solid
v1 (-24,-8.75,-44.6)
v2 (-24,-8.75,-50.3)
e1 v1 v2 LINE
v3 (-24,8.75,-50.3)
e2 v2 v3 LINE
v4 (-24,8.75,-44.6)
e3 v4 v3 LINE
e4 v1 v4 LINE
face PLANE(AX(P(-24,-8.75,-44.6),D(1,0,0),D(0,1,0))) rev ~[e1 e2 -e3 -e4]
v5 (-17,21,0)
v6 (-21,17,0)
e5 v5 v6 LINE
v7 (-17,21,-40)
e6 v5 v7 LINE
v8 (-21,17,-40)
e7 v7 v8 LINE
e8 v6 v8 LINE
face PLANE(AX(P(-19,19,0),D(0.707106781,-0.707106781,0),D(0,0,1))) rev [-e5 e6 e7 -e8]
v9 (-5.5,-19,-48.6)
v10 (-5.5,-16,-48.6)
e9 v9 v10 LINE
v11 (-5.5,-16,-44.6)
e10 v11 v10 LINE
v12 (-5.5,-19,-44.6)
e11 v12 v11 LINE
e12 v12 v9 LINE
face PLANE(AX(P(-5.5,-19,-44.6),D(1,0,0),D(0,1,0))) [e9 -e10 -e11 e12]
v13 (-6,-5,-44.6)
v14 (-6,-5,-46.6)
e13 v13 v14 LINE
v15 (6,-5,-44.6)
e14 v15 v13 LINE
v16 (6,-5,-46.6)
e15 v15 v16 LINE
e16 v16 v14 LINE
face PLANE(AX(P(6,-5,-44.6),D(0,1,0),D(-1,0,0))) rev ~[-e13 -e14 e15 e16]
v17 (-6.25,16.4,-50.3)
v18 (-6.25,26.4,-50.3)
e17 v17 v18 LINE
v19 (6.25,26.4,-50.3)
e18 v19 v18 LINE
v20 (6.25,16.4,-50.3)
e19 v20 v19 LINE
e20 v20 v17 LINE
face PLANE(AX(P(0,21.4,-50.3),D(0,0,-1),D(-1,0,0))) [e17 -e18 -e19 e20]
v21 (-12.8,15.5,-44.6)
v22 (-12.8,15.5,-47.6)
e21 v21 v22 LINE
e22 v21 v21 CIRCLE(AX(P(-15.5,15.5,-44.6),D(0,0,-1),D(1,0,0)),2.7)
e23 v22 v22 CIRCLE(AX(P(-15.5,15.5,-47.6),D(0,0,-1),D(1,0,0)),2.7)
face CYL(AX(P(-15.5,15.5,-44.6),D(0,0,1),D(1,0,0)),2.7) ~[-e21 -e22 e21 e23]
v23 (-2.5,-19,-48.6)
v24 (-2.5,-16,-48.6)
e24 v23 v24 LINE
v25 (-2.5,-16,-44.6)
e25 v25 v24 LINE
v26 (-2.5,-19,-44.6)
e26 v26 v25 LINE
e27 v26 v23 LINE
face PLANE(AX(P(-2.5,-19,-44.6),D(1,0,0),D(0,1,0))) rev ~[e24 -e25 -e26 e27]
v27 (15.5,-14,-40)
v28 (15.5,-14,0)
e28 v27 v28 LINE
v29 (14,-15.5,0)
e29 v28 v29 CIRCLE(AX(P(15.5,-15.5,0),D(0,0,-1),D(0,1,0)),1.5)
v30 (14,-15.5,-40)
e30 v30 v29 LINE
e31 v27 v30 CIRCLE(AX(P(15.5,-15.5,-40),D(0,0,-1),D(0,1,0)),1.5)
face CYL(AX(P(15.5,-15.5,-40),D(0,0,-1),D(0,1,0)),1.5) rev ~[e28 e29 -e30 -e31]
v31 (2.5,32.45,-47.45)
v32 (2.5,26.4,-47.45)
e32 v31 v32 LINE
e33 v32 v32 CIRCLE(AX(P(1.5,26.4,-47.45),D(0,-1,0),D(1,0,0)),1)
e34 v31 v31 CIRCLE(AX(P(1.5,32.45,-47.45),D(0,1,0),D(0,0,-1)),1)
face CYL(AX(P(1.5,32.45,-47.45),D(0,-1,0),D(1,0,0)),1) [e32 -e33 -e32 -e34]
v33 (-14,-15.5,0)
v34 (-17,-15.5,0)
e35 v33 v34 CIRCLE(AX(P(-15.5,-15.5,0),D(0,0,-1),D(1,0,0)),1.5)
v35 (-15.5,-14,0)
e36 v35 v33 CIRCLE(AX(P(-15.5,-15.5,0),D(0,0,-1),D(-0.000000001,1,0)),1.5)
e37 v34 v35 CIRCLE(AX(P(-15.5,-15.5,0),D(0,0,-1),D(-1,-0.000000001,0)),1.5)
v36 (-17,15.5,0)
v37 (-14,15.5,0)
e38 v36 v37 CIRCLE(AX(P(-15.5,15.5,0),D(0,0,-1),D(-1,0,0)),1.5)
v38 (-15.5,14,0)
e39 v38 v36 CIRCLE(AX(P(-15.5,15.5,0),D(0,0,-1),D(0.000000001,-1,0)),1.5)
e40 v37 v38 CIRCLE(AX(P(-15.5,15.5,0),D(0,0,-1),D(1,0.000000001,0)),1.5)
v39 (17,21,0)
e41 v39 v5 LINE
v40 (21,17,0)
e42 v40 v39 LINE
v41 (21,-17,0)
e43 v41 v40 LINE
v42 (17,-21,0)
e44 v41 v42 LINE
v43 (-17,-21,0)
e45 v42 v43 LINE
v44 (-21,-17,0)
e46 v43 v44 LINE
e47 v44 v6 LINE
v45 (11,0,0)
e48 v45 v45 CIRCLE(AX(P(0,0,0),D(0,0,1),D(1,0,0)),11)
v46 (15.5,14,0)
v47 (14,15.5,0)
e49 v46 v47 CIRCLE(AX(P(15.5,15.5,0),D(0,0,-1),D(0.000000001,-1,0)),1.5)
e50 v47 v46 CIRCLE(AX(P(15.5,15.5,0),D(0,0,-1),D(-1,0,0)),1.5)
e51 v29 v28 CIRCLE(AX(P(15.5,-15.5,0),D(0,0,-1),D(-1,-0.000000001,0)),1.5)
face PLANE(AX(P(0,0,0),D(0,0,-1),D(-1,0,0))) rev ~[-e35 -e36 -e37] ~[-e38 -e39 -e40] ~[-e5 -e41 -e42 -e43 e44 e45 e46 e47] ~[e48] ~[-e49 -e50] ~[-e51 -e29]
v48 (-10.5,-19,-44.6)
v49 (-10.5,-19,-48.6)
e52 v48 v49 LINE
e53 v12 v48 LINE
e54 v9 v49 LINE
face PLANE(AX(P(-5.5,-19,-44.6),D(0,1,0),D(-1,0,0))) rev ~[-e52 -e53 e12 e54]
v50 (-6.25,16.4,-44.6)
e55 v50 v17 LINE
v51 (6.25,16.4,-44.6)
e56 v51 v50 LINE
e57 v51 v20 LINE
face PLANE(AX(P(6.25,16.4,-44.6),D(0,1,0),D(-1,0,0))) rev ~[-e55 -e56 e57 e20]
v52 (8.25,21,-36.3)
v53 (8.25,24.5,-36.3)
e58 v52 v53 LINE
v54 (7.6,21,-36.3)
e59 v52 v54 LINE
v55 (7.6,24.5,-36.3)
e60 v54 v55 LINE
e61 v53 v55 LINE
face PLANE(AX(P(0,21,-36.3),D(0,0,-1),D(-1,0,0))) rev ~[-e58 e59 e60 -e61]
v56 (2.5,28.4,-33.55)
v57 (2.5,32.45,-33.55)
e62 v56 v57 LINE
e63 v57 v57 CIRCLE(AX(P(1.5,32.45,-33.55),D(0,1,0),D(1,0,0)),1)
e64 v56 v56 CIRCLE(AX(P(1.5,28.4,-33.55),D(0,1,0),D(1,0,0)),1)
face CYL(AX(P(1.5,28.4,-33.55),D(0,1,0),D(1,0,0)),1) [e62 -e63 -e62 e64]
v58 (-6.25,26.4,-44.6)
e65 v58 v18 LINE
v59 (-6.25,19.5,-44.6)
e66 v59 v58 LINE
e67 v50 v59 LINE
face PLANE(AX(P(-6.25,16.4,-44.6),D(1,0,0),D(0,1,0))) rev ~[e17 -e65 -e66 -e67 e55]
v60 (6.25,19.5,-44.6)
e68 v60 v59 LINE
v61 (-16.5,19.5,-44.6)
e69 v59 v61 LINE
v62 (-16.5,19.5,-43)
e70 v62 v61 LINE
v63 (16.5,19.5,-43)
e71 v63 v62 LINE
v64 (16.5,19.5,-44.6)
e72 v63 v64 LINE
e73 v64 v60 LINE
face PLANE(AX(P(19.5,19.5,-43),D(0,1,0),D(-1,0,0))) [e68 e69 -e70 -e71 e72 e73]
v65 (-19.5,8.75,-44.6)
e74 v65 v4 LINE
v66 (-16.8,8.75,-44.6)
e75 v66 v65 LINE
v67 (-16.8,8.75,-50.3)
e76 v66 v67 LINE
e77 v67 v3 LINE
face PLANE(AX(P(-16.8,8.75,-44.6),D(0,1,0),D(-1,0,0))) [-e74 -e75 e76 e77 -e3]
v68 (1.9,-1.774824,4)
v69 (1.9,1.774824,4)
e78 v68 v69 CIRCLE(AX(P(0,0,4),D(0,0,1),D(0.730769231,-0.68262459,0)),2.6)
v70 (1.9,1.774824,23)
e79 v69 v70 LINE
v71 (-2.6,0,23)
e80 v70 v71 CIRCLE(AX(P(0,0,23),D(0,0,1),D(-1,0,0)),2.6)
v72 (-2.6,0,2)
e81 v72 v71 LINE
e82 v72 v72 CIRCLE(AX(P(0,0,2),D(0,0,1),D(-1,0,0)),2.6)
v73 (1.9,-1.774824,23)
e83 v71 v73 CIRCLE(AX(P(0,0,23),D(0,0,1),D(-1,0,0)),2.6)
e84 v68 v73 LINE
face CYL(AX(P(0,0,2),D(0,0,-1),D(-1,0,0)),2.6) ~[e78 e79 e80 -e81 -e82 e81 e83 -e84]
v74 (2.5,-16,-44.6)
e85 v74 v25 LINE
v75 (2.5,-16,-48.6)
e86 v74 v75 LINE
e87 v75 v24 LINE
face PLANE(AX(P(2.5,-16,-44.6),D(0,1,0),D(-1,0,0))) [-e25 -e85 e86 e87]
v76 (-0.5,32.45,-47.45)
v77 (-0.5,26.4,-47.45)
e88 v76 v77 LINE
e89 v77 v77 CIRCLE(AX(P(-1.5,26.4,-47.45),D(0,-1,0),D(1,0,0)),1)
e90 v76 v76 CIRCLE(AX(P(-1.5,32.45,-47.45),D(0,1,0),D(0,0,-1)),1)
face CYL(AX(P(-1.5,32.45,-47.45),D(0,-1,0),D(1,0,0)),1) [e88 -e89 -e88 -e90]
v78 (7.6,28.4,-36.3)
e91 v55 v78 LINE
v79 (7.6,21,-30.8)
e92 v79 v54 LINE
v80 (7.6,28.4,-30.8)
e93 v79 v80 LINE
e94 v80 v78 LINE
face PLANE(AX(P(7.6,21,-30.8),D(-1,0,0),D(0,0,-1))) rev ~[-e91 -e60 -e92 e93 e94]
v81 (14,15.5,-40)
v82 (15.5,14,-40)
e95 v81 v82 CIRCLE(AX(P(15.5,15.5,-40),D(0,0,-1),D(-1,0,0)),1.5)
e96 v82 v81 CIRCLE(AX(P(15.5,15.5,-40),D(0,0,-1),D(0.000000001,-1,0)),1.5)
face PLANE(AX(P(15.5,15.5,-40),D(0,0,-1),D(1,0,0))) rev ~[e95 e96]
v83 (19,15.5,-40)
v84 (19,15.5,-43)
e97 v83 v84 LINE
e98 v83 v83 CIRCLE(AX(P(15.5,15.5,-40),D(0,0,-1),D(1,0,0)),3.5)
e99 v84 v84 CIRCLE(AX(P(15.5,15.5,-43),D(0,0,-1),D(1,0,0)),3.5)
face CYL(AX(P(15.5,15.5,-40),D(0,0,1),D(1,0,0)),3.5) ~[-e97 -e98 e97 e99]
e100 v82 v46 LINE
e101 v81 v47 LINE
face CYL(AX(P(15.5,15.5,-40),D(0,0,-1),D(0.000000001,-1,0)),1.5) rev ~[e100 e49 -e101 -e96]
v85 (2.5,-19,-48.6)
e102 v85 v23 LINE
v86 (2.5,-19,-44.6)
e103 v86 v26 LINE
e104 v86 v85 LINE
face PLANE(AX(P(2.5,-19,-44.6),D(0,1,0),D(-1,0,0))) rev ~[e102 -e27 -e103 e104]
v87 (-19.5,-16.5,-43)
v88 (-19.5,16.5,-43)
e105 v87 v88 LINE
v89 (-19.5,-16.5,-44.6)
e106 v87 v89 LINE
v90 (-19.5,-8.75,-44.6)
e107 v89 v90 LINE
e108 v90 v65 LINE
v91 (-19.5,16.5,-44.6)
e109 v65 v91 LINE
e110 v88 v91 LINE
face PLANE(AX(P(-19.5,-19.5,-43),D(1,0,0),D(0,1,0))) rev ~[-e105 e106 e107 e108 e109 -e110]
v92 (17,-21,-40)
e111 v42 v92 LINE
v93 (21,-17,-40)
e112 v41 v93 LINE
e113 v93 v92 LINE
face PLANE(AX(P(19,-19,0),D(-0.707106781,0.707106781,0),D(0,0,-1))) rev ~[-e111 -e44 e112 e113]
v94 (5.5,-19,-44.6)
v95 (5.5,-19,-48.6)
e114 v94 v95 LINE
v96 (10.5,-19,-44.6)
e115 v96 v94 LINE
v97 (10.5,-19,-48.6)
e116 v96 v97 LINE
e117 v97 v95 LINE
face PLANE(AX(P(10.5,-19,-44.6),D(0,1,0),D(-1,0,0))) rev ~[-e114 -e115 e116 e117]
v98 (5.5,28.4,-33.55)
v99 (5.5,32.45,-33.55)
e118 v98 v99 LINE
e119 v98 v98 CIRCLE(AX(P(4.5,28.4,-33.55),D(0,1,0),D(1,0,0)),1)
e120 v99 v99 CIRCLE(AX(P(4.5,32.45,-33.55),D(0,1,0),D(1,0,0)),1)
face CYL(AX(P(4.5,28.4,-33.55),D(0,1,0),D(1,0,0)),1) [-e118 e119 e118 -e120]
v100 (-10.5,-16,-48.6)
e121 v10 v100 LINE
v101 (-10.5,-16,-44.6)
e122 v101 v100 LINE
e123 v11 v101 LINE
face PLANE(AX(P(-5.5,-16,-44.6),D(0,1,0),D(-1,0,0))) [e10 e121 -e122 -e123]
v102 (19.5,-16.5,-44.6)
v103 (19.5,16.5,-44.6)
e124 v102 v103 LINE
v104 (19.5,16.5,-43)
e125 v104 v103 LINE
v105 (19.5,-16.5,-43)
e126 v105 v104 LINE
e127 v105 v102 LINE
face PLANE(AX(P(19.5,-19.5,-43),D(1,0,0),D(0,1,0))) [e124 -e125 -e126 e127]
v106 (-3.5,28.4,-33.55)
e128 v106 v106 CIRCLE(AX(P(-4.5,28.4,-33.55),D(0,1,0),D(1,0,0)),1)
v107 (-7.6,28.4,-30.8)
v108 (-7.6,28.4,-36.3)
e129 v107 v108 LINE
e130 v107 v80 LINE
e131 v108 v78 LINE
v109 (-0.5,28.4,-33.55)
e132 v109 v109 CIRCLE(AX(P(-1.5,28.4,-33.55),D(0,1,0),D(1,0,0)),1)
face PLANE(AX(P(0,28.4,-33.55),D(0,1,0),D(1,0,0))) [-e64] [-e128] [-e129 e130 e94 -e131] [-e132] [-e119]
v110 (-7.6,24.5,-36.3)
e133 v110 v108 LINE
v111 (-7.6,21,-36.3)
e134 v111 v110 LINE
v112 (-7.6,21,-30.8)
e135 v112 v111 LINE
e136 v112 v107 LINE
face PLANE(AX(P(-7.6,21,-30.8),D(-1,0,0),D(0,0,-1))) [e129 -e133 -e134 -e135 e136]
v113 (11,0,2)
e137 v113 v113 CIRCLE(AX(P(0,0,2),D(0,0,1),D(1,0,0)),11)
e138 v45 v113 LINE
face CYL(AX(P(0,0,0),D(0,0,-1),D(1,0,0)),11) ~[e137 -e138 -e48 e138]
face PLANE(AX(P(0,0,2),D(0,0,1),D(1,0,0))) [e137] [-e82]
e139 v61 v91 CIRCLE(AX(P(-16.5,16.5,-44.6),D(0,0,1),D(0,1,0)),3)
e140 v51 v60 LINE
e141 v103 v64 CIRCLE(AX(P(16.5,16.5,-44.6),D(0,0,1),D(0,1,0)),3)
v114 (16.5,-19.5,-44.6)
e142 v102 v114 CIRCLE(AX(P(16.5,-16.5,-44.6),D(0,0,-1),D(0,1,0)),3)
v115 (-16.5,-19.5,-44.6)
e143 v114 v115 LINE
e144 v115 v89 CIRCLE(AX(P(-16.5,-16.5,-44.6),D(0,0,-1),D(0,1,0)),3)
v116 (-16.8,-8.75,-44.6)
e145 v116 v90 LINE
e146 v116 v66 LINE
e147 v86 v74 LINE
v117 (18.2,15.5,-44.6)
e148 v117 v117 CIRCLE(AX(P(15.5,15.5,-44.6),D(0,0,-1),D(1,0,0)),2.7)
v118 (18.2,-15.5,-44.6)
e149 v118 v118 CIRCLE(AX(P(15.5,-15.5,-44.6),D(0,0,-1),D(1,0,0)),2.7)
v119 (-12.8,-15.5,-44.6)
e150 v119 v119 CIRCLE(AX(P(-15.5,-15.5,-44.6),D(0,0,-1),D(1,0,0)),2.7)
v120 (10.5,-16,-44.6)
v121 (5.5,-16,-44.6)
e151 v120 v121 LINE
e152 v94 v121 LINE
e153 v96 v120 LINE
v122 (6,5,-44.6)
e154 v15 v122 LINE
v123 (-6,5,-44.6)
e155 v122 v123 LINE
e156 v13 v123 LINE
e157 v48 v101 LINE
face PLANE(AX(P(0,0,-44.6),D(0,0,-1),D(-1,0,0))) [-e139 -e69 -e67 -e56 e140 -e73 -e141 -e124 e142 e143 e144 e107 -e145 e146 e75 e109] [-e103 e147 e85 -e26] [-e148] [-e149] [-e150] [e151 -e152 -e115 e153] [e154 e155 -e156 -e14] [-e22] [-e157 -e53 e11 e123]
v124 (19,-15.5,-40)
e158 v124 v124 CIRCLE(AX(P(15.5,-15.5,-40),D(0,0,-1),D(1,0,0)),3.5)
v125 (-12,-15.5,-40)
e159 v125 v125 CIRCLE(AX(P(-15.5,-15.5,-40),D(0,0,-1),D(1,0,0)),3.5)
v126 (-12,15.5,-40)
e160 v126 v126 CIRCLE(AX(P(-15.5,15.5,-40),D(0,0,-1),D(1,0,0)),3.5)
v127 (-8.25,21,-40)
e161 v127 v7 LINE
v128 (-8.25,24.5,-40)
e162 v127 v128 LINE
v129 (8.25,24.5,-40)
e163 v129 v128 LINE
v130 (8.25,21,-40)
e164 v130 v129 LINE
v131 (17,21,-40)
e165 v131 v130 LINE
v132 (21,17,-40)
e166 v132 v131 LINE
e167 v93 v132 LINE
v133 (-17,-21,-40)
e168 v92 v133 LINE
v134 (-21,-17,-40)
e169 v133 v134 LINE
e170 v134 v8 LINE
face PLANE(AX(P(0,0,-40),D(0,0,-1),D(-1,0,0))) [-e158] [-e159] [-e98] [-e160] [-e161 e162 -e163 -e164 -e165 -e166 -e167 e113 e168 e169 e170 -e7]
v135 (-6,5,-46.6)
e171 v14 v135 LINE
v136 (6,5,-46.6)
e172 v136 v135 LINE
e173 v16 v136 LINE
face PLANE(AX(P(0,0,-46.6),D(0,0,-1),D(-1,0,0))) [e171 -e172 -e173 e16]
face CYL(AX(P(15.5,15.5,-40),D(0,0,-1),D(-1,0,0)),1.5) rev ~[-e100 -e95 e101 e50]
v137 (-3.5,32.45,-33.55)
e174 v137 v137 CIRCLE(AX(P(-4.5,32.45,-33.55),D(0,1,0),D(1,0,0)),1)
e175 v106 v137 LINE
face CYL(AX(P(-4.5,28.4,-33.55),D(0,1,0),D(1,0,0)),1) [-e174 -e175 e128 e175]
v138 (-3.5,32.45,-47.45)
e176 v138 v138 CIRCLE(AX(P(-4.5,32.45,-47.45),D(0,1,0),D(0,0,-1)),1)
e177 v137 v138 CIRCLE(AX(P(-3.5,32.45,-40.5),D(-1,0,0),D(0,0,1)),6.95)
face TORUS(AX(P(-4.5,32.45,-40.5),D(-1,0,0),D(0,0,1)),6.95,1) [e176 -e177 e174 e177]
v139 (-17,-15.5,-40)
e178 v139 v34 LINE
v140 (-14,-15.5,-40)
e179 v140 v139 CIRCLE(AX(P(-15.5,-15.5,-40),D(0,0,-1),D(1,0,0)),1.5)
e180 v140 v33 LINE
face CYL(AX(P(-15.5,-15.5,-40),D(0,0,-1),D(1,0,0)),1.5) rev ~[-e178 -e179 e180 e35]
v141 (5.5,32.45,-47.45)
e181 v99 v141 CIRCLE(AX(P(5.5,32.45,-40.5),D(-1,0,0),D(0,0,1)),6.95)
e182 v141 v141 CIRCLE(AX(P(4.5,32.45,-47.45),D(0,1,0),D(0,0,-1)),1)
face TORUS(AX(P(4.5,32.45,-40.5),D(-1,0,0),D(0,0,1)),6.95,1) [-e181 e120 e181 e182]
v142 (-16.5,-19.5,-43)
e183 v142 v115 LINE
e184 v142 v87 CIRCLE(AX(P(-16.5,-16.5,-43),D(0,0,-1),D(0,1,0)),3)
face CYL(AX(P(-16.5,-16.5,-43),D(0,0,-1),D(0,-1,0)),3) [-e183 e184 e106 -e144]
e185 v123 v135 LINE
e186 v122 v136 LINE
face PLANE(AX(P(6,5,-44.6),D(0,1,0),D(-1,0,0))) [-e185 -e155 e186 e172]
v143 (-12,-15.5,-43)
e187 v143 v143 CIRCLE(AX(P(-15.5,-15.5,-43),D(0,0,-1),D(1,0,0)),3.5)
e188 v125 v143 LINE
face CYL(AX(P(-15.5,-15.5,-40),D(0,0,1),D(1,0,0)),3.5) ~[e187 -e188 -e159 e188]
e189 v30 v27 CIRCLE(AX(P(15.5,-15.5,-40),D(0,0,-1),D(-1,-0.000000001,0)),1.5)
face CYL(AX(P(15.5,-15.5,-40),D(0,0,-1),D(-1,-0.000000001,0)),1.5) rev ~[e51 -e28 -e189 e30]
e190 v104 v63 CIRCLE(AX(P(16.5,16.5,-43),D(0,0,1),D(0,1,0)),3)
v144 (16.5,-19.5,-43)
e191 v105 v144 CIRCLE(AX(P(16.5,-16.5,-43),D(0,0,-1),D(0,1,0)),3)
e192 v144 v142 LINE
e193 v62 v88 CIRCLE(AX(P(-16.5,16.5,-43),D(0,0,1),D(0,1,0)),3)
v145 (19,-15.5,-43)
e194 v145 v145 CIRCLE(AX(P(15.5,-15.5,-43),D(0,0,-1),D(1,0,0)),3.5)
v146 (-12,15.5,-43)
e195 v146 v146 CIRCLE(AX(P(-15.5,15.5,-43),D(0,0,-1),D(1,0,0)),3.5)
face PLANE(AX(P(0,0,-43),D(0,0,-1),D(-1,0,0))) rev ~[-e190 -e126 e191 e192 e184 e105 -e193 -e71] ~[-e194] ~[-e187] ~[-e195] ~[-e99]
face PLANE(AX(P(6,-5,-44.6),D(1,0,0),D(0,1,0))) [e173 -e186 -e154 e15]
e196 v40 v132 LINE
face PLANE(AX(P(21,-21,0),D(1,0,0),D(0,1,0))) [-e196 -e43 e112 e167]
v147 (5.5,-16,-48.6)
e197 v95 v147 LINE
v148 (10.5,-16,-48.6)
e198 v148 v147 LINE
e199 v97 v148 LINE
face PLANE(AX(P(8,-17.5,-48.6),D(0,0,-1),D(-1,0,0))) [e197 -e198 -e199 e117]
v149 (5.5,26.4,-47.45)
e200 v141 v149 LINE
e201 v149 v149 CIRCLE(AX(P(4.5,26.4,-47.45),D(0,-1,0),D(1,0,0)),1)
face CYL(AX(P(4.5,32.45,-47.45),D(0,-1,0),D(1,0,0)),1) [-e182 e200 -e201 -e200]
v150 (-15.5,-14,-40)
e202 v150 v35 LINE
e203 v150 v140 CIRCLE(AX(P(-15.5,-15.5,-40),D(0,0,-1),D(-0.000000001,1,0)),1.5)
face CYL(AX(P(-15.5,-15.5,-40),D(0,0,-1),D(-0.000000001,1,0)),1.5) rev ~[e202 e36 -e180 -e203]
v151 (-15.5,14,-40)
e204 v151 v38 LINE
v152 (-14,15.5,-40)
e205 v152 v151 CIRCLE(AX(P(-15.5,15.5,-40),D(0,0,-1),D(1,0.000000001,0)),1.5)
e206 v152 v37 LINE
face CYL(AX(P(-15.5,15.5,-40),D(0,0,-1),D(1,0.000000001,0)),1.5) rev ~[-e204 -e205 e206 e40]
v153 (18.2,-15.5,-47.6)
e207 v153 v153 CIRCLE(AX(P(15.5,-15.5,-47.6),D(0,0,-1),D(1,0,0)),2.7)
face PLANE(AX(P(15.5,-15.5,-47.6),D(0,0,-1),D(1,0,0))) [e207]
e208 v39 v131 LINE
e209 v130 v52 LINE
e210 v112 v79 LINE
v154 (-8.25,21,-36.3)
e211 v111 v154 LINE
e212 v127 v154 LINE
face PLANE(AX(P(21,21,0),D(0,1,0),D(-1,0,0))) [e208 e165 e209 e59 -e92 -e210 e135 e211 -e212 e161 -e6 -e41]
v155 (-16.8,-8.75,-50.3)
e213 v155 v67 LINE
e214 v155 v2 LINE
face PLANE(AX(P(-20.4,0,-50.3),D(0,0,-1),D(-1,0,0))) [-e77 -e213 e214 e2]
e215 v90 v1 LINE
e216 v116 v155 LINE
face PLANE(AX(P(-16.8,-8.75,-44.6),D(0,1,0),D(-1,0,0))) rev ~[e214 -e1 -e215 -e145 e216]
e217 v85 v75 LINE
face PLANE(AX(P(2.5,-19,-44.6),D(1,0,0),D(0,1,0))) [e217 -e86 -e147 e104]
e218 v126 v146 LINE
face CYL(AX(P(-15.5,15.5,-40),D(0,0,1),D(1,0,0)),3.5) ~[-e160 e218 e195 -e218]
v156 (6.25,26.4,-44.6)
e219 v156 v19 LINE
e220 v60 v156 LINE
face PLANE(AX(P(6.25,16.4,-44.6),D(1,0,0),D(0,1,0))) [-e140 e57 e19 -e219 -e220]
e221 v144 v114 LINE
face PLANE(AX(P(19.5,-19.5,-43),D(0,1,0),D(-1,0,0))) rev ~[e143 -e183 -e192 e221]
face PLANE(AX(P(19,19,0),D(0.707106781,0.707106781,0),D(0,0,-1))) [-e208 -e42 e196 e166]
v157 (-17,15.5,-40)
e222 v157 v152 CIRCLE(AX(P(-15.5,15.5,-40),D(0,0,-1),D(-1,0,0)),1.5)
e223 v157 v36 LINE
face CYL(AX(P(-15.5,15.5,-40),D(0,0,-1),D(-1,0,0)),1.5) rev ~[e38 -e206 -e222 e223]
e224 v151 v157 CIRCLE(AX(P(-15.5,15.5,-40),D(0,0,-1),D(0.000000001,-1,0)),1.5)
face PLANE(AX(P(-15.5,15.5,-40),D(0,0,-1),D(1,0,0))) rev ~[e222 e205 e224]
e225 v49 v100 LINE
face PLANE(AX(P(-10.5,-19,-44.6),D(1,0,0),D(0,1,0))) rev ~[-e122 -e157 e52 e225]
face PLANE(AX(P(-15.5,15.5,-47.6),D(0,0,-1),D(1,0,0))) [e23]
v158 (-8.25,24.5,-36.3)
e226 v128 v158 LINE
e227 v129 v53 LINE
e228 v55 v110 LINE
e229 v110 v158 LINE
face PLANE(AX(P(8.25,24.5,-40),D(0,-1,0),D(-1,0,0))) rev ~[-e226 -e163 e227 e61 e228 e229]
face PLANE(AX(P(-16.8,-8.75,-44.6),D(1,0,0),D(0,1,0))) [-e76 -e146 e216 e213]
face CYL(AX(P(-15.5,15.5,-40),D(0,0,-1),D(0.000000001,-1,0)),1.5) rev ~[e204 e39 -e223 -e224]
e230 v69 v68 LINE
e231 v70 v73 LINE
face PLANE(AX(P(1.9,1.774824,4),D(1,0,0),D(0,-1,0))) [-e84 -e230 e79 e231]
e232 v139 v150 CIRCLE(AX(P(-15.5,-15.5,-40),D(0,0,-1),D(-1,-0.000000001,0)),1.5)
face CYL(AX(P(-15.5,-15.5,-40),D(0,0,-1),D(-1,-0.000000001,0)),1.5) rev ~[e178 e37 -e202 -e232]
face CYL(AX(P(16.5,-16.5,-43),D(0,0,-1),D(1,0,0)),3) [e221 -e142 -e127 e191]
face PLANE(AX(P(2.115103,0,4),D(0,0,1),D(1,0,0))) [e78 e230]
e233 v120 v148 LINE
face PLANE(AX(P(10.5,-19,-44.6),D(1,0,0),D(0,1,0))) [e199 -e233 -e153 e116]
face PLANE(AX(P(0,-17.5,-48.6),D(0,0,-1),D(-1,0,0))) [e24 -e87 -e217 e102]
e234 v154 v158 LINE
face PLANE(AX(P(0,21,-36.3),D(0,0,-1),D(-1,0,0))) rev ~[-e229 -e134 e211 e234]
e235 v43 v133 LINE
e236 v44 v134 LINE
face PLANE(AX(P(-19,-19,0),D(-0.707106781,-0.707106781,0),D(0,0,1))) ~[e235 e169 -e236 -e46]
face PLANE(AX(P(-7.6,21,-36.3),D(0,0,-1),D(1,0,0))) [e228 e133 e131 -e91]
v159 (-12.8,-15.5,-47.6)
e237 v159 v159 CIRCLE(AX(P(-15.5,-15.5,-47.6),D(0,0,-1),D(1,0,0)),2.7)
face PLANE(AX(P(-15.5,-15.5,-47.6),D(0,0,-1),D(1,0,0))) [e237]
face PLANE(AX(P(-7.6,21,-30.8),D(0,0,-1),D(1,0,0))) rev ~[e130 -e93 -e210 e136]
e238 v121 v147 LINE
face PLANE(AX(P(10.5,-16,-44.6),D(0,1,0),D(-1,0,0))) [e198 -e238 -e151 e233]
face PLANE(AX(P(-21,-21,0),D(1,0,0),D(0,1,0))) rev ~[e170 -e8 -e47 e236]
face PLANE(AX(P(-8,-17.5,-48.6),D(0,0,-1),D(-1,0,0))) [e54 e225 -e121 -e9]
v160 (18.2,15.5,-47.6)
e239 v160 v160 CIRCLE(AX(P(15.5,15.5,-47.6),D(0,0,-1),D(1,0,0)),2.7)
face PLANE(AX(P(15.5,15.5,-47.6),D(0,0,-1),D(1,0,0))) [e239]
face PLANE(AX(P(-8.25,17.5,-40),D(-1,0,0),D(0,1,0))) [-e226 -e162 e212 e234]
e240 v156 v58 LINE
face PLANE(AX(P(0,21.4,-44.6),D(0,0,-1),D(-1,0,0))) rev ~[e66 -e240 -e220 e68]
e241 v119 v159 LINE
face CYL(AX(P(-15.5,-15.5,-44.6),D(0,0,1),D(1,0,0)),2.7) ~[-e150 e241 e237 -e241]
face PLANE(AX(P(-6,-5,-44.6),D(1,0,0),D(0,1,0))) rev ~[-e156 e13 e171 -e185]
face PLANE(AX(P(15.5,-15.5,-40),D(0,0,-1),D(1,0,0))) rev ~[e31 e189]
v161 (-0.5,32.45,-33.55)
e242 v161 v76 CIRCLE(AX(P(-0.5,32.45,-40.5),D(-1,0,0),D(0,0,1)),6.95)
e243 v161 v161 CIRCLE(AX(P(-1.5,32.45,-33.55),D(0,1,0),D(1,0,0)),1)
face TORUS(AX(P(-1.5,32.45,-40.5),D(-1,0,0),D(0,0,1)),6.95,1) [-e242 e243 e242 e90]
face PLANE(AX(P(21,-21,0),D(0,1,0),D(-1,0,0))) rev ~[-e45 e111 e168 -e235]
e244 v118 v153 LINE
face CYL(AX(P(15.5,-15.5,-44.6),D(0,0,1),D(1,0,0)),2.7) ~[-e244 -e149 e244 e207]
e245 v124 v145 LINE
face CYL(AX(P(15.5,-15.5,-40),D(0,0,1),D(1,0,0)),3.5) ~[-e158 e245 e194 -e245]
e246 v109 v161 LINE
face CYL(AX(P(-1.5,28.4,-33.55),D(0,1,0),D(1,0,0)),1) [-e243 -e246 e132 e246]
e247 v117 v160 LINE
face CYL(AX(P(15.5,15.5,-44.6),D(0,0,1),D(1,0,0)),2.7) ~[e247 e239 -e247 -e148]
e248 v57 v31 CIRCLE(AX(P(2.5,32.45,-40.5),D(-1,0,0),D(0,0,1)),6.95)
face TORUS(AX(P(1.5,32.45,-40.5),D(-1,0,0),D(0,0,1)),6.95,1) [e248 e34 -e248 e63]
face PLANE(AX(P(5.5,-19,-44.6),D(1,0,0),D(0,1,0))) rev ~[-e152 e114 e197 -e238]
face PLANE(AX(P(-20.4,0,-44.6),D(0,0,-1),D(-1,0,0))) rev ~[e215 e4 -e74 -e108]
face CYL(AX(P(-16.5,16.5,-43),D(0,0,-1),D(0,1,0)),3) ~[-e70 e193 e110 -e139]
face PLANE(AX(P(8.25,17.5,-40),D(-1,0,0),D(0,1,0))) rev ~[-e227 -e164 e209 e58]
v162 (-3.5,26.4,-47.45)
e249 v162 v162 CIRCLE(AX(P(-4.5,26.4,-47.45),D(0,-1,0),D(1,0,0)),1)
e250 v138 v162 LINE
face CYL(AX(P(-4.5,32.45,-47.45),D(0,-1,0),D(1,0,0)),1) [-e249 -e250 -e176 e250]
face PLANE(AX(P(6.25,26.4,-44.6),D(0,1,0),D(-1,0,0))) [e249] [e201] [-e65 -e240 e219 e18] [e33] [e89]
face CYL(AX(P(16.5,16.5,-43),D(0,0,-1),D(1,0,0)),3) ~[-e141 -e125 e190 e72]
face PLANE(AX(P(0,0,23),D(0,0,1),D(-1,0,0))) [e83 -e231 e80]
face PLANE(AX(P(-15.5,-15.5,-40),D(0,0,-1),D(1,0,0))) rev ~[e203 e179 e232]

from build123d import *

# Parameters (mm, degrees)
SKETCH1_R            = 11
BOSS_EXTRUDE1_DEPTH  = 2
SKETCH2_R            = 2.6
BOSS_EXTRUDE2_DEPTH  = 21
CUT_EXTRUDE1_START   = -19
CUT_EXTRUDE1_DEPTH   = 19
SKETCH4_W            = 42
SKETCH4_H            = 42
BOSS_EXTRUDE3_DEPTH  = 40
CHAMFER1_SIZE        = 4
CUT_EXTRUDE2_DEPTH   = 70.649120597
SKETCH6_R            = 3.5
BOSS_EXTRUDE4_DEPTH  = 3
SKETCH7_W            = 39
SKETCH7_H            = 39
BOSS_EXTRUDE5_DEPTH  = 1.6
FILLET1_R            = 3
SKETCH8_W            = 16.5
SKETCH8_H            = 7
BOSS_EXTRUDE6_DEPTH  = 3.7
SKETCH9_W            = 15.2
SKETCH9_H            = 5.5
BOSS_EXTRUDE7_DEPTH  = 7.4
SKETCH10_W           = 12.5
SKETCH10_H           = 10
BOSS_EXTRUDE8_DEPTH  = 5.7
SKETCH11_R           = 1
SKETCH13_R           = 2.7
BOSS_EXTRUDE9_DEPTH  = 3
SKETCH14_W           = 12
SKETCH14_H           = 10
BOSS_EXTRUDE10_DEPTH = 2
SKETCH15_W           = 5
SKETCH15_H           = 3
BOSS_EXTRUDE11_DEPTH = 4
SKETCH16_W           = 7.2
SKETCH16_H           = 17.5
BOSS_EXTRUDE12_DEPTH = 5.7


with BuildPart() as part:
    # Sketch1 → Boss-Extrude1 (new body)
    with BuildSketch(Plane.XY):
        Circle(SKETCH1_R)
    extrude(amount=BOSS_EXTRUDE1_DEPTH)

    # Sketch2 → Boss-Extrude2 (add)
    with BuildSketch(Plane.XY.offset(2)):
        with Locations(Location((0, 0, 0), (0, 0, 180))):
            Circle(SKETCH2_R)
    extrude(amount=BOSS_EXTRUDE2_DEPTH)

    # Sketch3 → Cut-Extrude1 (cut)
    with BuildSketch(Plane.XY.offset(23).offset(CUT_EXTRUDE1_START)):
        with BuildLine():
            Line((1.9, 1.774823935), (1.9, -1.774823935))
            ThreePointArc((1.9, -1.774823935), (2.6, 0), (1.9, 1.774823935))
        make_face()
    extrude(amount=CUT_EXTRUDE1_DEPTH, mode=Mode.SUBTRACT)

    # Sketch4 → Boss-Extrude3 (add)
    with BuildSketch(Plane(origin=(0, 0, 0), x_dir=(-1, 0, 0), z_dir=(0, 0, -1))):
        Rectangle(SKETCH4_W, SKETCH4_H)
    extrude(amount=BOSS_EXTRUDE3_DEPTH)

    # Chamfer1
    chamfer1_edges = [part.edges().sort_by_distance(p)[0] for p in [
        (-21, -21, -20),
        (-21, 21, -20),
        (21, 21, -20),
        (21, -21, -20),
    ]]
    chamfer(chamfer1_edges, length=CHAMFER1_SIZE)

    # Sketch5 → Cut-Extrude2 (cut, through all)
    with BuildSketch(Plane(origin=(0, 0, -40), x_dir=(-1, 0, 0), z_dir=(0, 0, -1))):
        with BuildLine():
            ThreePointArc((-14, 15.5), (-16.560660172, 16.560660172), (-15.5, 14))
            Line((-15.5, 14), (-15.5, 15.5))
            Line((-15.5, 15.5), (-14, 15.5))
        make_face()
        with BuildLine():
            Line((-15.5, 15.5), (-15.5, 14))
            ThreePointArc((-15.5, 14), (-14.439339828, 14.439339828), (-14, 15.5))
            Line((-14, 15.5), (-15.5, 15.5))
        make_face()
        with BuildLine():
            ThreePointArc((14, 15.5), (14.439339828, 14.439339828), (15.5, 14))
            Line((15.5, 14), (15.5, 15.5))
            Line((15.5, 15.5), (14, 15.5))
        make_face()
        with BuildLine():
            Line((15.5, 15.5), (15.5, 14))
            ThreePointArc((15.5, 14), (16.560660172, 14.439339828), (17, 15.5))
            ThreePointArc((17, 15.5), (15.5, 17), (14, 15.5))
            Line((14, 15.5), (15.5, 15.5))
        make_face()
        with BuildLine():
            ThreePointArc((15.5, -14), (14.439339828, -14.439339828), (14, -15.5))
            Line((14, -15.5), (15.5, -15.5))
            Line((15.5, -15.5), (15.5, -14))
        make_face()
        with BuildLine():
            Line((15.5, -15.5), (14, -15.5))
            ThreePointArc((14, -15.5), (15.5, -17), (17, -15.5))
            ThreePointArc((17, -15.5), (16.560660172, -14.439339828), (15.5, -14))
            Line((15.5, -14), (15.5, -15.5))
        make_face()
        with BuildLine():
            Line((-15.5, -14), (-15.5, -15.5))
            Line((-15.5, -15.5), (-14, -15.5))
            ThreePointArc((-14, -15.5), (-14.439339828, -14.439339828), (-15.5, -14))
        make_face()
        with BuildLine():
            Line((-14, -15.5), (-15.5, -15.5))
            Line((-15.5, -15.5), (-15.5, -14))
            ThreePointArc((-15.5, -14), (-16.560660172, -16.560660172), (-14, -15.5))
        make_face()
    extrude(amount=-CUT_EXTRUDE2_DEPTH, mode=Mode.SUBTRACT)

    # Sketch6 → Boss-Extrude4 (add)
    with BuildSketch(Plane(origin=(0, 0, -40), x_dir=(-1, 0, 0), z_dir=(0, 0, -1))):
        with Locations(Location((-15.5, 15.5, 0), (0, 0, 180))):
            Circle(SKETCH6_R)
        with Locations(Location((15.5, 15.5, 0), (0, 0, 180))):
            Circle(SKETCH6_R)
        with Locations(Location((15.5, -15.5, 0), (0, 0, 180))):
            Circle(SKETCH6_R)
        with Locations(Location((-15.5, -15.5, 0), (0, 0, 180))):
            Circle(SKETCH6_R)
    extrude(amount=BOSS_EXTRUDE4_DEPTH)

    # Sketch7 → Boss-Extrude5 (add)
    with BuildSketch(Plane(origin=(0, 0, -43), x_dir=(-1, 0, 0), z_dir=(0, 0, -1))):
        Rectangle(SKETCH7_W, SKETCH7_H)
    extrude(amount=BOSS_EXTRUDE5_DEPTH)

    # Fillet1
    fillet1_edges = [part.edges().sort_by_distance(p)[0] for p in [
        (19.5, 19.5, -43.8),
        (19.5, -19.5, -43.8),
        (-19.5, -19.5, -43.8),
        (-19.5, 19.5, -43.8),
    ]]
    fillet(fillet1_edges, radius=FILLET1_R)

    # Sketch8 → Boss-Extrude6 (add)
    with BuildSketch(Plane(origin=(0, 0, -40), x_dir=(-1, 0, 0), z_dir=(0, 0, -1))):
        with Locations((0, 21)):
            Rectangle(SKETCH8_W, SKETCH8_H)
    extrude(amount=-BOSS_EXTRUDE6_DEPTH)

    # Sketch9 → Boss-Extrude7 (add)
    with BuildSketch(Plane(origin=(0, 21, 0), x_dir=(1, 0, 0), z_dir=(0, 1, 0))):
        with Locations((0, 33.55)):
            Rectangle(SKETCH9_W, SKETCH9_H)
    extrude(amount=BOSS_EXTRUDE7_DEPTH)

    # Sketch10 → Boss-Extrude8 (add)
    with BuildSketch(Plane(origin=(0, 0, -44.6), x_dir=(-1, 0, 0), z_dir=(0, 0, -1))):
        with Locations((0, 21.4)):
            Rectangle(SKETCH10_W, SKETCH10_H)
    extrude(amount=BOSS_EXTRUDE8_DEPTH)

    # Sweep1: sweep along a path in Sketch12
    with BuildLine(Plane(origin=(0, 0, 0), x_dir=(0, 0, -1), z_dir=(1, 0, 0))) as sweep1_path:
        Line((33.55, 28.4), (33.55, 32.45))
        ThreePointArc((33.55, 32.45), (40.5, 39.4), (47.45, 32.45))
        Line((47.45, 32.45), (47.45, 26.4))
    # Sketch11 → Sweep1 (sweep)
    with BuildSketch(Plane(origin=(0, 26.4, 0), x_dir=(1, 0, 0), z_dir=(0, 1, 0))):
        with Locations((-4.5, 47.45)):
            Circle(SKETCH11_R)
        with Locations((-1.5, 47.45)):
            Circle(SKETCH11_R)
        with Locations((1.5, 47.45)):
            Circle(SKETCH11_R)
        with Locations((4.5, 47.45)):
            Circle(SKETCH11_R)
    sweep(path=sweep1_path.line)

    # Sketch13 → Boss-Extrude9 (add)
    with BuildSketch(Plane(origin=(0, 0, -44.6), x_dir=(-1, 0, 0), z_dir=(0, 0, -1))):
        with Locations(Location((-15.5, 15.5, 0), (0, 0, 180))):
            Circle(SKETCH13_R)
        with Locations(Location((15.5, 15.5, 0), (0, 0, 180))):
            Circle(SKETCH13_R)
        with Locations(Location((-15.5, -15.5, 0), (0, 0, 180))):
            Circle(SKETCH13_R)
        with Locations(Location((15.5, -15.5, 0), (0, 0, 180))):
            Circle(SKETCH13_R)
    extrude(amount=BOSS_EXTRUDE9_DEPTH)

    # Sketch14 → Boss-Extrude10 (add)
    with BuildSketch(Plane(origin=(0, 0, -44.6), x_dir=(-1, 0, 0), z_dir=(0, 0, -1))):
        Rectangle(SKETCH14_W, SKETCH14_H)
    extrude(amount=BOSS_EXTRUDE10_DEPTH)

    # Sketch15 → Boss-Extrude11 (add)
    with BuildSketch(Plane(origin=(0, 0, -44.6), x_dir=(-1, 0, 0), z_dir=(0, 0, -1))):
        with Locations((-8, -17.5)):
            Rectangle(SKETCH15_W, SKETCH15_H)
        with Locations((0, -17.5)):
            Rectangle(SKETCH15_W, SKETCH15_H)
        with Locations((8, -17.5)):
            Rectangle(SKETCH15_W, SKETCH15_H)
    extrude(amount=BOSS_EXTRUDE11_DEPTH)

    # Sketch16 → Boss-Extrude12 (add)
    with BuildSketch(Plane(origin=(0, 0, -44.6), x_dir=(-1, 0, 0), z_dir=(0, 0, -1))):
        with Locations((20.4, 0)):
            Rectangle(SKETCH16_W, SKETCH16_H)
    extrude(amount=BOSS_EXTRUDE12_DEPTH)


solid = part.part
